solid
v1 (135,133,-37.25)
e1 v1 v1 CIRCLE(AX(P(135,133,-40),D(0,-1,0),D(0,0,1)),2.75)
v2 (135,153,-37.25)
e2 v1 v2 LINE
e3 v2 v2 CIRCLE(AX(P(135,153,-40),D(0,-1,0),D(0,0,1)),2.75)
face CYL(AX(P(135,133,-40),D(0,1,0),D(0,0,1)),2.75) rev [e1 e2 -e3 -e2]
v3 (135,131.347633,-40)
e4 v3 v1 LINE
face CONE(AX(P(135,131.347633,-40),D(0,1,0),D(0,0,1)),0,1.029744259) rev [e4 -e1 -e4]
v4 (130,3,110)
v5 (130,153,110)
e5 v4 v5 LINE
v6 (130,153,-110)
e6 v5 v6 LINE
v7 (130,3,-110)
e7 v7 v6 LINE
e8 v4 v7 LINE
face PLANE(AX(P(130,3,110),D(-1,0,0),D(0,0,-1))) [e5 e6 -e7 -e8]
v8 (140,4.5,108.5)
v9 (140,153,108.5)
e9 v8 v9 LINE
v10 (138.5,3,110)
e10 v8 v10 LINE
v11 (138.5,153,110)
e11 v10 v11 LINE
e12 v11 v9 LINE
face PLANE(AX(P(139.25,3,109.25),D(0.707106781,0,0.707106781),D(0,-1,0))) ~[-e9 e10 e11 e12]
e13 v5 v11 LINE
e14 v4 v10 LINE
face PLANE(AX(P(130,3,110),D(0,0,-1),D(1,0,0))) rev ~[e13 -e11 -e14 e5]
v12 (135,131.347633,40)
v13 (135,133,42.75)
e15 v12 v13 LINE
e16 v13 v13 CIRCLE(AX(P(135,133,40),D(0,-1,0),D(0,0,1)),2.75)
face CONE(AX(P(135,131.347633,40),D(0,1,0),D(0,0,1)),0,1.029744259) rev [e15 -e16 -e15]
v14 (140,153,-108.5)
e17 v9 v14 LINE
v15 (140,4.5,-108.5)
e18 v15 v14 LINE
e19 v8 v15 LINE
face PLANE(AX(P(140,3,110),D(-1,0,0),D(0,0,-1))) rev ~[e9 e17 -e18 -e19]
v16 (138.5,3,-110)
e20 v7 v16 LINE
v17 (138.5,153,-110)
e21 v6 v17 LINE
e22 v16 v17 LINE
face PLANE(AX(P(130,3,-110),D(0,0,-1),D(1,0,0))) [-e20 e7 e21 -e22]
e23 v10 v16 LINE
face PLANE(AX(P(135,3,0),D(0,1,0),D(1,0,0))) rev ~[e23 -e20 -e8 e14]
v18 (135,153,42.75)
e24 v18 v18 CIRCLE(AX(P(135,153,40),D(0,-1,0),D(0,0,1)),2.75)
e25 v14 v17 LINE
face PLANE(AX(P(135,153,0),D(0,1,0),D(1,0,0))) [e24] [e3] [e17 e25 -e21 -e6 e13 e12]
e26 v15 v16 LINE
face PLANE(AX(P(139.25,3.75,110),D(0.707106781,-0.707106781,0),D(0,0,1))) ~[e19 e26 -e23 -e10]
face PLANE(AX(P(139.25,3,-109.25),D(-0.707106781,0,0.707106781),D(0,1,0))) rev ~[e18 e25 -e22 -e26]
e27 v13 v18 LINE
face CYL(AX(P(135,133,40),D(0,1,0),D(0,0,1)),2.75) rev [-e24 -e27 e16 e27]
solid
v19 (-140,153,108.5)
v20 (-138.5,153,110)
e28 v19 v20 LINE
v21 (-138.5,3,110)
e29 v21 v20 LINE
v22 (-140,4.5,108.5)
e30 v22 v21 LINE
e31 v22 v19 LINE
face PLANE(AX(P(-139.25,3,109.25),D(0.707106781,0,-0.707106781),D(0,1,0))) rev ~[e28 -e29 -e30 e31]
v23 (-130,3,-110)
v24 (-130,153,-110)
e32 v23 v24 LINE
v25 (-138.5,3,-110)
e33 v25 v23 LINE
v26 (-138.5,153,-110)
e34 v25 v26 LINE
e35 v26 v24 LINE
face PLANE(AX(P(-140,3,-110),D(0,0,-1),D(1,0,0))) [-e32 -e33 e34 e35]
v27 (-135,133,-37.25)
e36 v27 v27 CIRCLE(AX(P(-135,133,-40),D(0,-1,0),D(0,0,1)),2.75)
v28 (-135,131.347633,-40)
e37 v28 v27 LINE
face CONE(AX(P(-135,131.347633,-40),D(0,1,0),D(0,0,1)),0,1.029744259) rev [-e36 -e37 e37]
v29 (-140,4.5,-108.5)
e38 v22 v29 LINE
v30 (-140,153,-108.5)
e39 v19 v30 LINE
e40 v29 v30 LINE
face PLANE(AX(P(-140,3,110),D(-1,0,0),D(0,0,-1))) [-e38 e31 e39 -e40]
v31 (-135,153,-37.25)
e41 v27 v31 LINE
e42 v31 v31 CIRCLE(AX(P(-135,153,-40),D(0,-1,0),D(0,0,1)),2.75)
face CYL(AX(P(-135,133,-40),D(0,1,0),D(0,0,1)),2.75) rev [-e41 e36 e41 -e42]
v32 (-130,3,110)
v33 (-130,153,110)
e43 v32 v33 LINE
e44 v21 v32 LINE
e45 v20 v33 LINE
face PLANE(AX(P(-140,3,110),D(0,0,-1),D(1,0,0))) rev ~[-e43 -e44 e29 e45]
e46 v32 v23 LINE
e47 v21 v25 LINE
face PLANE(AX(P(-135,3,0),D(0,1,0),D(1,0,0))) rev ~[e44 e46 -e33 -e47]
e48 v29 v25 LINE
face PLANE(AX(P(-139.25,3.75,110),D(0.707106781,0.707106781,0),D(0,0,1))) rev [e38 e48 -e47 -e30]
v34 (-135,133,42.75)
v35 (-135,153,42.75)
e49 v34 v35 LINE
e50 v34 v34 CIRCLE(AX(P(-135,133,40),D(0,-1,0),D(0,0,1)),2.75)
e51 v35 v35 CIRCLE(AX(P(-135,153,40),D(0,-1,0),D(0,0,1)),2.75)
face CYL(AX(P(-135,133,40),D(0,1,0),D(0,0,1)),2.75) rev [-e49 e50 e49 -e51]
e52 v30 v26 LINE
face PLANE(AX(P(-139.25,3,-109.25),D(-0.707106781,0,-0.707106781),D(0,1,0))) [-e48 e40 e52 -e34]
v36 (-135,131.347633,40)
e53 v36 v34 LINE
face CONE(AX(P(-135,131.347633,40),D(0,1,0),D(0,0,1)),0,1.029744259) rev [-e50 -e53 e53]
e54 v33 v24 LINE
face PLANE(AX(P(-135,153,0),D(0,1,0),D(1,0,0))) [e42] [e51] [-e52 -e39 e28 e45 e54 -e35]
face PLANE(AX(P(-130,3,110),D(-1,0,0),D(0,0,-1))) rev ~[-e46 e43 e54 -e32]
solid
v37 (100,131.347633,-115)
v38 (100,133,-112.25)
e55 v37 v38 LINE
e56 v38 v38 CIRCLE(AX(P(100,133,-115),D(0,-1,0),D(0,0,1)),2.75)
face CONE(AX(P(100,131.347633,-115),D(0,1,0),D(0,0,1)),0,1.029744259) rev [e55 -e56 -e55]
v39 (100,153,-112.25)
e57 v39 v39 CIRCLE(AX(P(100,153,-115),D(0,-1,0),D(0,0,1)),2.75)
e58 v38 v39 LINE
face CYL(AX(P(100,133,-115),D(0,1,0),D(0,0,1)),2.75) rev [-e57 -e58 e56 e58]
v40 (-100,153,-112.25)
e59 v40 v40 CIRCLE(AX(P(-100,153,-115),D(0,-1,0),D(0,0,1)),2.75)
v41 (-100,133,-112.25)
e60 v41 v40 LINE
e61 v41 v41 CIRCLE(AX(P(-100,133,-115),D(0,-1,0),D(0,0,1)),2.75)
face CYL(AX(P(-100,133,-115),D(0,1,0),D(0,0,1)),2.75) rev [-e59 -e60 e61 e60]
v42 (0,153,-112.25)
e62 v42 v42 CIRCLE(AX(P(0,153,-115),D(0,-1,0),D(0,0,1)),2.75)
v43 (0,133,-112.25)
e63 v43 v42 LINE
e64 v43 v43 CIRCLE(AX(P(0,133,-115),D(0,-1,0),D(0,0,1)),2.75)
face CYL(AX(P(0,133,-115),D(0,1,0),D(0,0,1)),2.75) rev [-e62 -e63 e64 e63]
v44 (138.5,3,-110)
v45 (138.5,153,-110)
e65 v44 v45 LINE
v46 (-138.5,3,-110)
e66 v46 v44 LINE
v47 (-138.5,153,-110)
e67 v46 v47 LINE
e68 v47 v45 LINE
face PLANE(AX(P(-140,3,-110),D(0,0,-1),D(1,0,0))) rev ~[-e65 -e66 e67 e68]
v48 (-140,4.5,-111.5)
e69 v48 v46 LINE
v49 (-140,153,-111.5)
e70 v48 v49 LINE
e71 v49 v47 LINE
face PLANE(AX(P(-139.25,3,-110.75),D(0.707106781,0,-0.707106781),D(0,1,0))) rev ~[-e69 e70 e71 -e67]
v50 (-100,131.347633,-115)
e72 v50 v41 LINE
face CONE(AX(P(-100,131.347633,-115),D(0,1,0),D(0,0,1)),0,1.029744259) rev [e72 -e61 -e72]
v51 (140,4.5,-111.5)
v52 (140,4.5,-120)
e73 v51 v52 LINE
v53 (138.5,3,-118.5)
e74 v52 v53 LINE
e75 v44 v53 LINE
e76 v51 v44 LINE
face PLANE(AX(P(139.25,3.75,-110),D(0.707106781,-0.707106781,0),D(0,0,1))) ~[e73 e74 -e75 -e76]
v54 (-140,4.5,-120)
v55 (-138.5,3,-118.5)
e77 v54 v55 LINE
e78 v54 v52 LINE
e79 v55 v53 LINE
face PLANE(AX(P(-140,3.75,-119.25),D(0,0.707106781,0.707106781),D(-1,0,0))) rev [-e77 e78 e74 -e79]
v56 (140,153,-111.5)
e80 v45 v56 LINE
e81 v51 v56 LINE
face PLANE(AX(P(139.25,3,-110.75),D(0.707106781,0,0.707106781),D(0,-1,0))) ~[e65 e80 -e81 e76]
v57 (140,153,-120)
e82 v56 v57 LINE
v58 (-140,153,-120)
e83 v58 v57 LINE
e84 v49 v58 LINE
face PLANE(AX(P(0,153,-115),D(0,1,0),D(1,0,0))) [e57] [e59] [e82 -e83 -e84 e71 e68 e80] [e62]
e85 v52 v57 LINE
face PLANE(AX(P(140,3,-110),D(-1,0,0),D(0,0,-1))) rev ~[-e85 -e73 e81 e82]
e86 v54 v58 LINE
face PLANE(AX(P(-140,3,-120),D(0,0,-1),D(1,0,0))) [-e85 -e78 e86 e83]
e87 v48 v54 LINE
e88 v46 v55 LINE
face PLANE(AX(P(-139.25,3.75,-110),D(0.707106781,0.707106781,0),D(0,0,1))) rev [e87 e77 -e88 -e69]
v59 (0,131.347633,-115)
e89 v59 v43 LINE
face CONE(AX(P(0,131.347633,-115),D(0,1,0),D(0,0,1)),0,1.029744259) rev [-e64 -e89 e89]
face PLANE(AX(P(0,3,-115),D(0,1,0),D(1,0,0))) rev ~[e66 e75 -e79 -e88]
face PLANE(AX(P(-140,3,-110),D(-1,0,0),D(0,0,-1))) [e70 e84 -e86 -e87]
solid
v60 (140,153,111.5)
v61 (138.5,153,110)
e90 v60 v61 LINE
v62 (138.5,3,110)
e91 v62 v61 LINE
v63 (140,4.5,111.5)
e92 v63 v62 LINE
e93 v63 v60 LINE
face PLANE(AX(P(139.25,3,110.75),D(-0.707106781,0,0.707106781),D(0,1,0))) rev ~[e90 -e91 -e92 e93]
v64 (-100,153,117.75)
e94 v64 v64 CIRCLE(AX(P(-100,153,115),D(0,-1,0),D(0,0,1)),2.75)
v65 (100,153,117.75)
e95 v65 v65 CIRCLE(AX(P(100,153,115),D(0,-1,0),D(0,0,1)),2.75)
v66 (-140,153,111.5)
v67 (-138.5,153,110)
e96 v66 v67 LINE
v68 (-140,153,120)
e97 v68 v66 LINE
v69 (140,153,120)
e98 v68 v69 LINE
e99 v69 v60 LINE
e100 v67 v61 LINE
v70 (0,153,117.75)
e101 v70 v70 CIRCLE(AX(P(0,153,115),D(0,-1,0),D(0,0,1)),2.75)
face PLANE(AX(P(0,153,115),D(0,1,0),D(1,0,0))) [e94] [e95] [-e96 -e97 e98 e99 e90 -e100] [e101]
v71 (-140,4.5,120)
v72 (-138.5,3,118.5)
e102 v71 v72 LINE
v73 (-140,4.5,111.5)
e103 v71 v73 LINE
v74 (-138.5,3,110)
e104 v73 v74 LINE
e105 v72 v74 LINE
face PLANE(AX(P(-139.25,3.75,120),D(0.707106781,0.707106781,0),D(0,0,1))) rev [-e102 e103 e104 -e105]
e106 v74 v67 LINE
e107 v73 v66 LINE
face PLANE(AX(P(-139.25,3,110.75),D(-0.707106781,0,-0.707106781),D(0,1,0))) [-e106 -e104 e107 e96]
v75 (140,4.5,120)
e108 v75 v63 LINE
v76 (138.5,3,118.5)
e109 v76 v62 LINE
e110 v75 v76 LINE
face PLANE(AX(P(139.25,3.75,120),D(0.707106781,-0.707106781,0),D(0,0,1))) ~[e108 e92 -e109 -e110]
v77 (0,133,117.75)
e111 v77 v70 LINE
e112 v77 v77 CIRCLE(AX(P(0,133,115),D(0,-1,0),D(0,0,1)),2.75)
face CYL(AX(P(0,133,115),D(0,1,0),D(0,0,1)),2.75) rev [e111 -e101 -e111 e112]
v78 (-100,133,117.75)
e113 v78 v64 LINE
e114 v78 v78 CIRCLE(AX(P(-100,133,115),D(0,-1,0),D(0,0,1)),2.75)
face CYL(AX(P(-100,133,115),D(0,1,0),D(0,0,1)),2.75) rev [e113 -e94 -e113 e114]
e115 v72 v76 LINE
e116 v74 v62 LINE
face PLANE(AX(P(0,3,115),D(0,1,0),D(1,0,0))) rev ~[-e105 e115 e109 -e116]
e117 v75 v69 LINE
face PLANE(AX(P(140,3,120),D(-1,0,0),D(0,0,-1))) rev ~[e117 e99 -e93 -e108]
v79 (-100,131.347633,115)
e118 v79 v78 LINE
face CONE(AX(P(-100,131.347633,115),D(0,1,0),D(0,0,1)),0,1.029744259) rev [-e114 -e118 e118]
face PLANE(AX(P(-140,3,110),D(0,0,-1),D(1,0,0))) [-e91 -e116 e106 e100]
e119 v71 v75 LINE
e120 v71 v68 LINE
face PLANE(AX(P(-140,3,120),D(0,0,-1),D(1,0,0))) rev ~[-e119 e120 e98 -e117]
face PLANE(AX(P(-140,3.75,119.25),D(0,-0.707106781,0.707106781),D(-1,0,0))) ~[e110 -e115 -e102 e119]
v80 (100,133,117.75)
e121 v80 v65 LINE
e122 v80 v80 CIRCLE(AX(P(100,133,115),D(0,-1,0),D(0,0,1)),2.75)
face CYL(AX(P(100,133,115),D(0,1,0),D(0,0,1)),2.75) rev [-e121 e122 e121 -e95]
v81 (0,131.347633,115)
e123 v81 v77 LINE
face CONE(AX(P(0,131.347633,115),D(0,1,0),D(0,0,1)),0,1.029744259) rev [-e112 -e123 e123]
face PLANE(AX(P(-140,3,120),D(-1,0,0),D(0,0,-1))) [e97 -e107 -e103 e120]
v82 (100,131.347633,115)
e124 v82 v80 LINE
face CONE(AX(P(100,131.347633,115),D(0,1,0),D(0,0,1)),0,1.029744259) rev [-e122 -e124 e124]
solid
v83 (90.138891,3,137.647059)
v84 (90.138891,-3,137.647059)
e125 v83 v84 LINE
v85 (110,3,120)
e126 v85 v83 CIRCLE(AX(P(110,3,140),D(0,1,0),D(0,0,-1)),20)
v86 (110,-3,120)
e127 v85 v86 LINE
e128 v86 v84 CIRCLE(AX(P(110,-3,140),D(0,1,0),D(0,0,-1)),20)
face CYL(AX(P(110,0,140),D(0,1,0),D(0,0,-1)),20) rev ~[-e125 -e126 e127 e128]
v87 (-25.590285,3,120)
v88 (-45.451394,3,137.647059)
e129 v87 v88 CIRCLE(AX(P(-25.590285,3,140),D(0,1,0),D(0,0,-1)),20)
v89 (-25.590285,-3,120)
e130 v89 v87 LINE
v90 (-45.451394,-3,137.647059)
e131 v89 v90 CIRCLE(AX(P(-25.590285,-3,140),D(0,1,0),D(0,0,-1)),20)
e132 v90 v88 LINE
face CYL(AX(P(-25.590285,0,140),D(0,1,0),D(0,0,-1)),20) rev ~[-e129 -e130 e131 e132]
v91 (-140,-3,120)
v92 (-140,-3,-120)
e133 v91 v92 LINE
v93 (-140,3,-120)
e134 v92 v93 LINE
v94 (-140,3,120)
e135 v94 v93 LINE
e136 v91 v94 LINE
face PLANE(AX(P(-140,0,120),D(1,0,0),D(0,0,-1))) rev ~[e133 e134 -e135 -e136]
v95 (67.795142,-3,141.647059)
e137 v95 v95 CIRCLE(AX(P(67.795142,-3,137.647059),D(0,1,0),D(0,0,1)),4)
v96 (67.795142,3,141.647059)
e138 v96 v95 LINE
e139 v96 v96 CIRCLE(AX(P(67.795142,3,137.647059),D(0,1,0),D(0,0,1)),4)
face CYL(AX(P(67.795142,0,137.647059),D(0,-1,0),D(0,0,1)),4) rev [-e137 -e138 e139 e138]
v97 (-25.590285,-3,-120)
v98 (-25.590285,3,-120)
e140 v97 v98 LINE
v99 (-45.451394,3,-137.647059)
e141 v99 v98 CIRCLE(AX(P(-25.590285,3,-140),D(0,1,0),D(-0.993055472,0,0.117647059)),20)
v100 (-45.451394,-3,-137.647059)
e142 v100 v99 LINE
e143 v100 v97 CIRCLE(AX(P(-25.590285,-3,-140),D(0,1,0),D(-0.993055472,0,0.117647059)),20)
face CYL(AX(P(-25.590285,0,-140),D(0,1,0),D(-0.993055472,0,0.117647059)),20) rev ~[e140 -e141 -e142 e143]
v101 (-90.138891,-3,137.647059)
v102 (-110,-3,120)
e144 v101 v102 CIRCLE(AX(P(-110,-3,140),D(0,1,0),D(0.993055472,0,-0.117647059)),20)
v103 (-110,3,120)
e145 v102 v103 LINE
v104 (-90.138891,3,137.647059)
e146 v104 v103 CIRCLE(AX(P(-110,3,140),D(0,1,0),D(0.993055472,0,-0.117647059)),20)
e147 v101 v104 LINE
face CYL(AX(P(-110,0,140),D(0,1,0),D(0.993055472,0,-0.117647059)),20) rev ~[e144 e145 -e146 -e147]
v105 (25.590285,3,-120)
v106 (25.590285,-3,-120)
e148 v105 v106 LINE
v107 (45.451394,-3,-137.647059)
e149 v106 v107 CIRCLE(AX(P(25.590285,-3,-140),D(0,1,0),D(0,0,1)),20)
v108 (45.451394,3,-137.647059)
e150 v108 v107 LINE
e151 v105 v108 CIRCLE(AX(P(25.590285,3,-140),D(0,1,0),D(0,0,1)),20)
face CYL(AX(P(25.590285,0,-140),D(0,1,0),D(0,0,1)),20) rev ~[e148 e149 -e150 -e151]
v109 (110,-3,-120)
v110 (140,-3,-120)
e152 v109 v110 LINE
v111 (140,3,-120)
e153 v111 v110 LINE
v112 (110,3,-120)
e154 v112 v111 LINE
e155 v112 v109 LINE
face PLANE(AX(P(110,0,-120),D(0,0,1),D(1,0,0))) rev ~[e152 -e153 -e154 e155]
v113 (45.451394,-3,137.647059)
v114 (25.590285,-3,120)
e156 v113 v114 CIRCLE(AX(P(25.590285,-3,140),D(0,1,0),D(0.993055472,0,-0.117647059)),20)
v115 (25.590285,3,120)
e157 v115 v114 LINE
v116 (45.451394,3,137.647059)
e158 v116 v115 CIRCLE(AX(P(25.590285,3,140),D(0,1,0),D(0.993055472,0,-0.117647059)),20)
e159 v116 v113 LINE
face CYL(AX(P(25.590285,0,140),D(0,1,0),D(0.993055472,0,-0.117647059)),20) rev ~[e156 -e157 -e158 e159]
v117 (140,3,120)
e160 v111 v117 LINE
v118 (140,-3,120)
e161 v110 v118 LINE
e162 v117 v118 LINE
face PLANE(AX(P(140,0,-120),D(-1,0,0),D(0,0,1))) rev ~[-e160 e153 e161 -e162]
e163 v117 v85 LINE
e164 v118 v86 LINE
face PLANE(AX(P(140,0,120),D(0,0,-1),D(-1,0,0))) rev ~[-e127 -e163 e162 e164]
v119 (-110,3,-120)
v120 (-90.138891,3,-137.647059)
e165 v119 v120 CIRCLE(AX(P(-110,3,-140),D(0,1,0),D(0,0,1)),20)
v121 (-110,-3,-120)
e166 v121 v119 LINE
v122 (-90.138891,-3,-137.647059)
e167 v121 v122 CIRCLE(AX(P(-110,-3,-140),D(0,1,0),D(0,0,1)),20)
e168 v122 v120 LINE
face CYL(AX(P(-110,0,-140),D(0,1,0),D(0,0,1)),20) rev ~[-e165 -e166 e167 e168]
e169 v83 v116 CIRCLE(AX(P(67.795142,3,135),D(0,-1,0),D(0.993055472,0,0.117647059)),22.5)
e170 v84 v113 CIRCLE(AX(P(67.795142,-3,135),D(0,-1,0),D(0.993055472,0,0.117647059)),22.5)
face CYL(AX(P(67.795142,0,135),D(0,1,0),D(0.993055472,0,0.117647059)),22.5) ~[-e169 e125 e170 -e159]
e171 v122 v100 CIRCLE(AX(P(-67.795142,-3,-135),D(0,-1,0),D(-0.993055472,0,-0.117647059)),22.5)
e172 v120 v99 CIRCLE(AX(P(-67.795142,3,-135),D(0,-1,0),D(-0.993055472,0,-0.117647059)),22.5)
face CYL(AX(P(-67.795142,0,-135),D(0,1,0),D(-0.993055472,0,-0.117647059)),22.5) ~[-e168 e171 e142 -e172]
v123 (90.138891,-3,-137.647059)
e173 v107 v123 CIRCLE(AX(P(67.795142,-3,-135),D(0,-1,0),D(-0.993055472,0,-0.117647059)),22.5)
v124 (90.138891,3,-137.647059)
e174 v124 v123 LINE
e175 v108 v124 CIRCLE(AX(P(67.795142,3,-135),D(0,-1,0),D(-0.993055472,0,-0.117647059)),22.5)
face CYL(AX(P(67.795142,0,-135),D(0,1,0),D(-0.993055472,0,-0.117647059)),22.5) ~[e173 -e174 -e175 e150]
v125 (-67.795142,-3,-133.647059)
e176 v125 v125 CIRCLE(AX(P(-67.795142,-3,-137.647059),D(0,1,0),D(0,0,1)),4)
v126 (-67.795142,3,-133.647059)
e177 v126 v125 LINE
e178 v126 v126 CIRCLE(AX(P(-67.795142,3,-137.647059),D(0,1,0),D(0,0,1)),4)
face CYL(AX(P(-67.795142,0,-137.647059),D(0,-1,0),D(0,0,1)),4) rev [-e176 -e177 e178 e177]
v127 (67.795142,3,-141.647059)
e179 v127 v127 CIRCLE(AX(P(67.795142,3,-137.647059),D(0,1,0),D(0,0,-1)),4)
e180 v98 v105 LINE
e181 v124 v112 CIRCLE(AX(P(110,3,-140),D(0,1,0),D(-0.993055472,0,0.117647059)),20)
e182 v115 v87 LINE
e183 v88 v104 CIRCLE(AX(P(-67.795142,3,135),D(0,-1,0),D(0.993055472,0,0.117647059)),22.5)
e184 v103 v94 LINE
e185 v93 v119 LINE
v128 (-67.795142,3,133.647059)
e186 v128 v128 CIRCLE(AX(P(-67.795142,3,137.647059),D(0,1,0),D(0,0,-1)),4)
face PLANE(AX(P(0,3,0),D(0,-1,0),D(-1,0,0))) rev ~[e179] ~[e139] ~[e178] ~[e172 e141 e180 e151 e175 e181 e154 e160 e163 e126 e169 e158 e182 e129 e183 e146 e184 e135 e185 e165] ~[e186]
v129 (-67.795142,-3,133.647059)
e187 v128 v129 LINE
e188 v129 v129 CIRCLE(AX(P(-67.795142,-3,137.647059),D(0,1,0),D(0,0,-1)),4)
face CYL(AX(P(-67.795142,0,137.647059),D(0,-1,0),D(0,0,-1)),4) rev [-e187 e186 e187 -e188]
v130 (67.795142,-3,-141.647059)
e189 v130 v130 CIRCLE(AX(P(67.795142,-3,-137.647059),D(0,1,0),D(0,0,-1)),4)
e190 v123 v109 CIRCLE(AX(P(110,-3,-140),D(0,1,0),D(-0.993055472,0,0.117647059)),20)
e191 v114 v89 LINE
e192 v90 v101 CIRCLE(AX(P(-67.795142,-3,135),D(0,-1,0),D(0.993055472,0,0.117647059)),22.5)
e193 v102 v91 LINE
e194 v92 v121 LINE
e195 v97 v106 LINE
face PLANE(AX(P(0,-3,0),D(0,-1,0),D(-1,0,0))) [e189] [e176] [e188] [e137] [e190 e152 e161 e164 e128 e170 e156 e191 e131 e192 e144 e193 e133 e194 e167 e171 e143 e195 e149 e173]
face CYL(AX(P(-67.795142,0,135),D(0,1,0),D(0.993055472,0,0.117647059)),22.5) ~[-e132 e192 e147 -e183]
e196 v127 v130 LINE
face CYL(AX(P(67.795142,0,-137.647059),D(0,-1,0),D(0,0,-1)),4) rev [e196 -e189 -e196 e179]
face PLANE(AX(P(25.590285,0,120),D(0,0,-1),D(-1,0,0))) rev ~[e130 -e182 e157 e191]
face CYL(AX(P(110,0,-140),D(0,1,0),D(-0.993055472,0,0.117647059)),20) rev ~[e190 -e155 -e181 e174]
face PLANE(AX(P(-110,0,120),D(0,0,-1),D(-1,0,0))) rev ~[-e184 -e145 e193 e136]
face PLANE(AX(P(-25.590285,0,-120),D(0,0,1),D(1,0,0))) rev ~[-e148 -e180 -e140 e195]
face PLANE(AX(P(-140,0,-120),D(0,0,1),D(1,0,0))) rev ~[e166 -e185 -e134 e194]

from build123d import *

# Parameters (mm, degrees)
CROQUIS1_R                             = 4
SALIENTE_EXTRUIR1_DEPTH                = 3
CROQUIS2_W                             = 280
CROQUIS2_H                             = 10
SALIENTE_EXTRUIR2_DEPTH                = 150
SALIENTE_EXTRUIR2_2_DEPTH              = 150
CROQUIS3_W                             = 10
CROQUIS3_H                             = 220
SALIENTE_EXTRUIR3_DEPTH                = 150
SALIENTE_EXTRUIR3_2_DEPTH              = 150
CHAFL_N1_SIZE                          = 1.5
CHAFL_N2_SIZE                          = 1.5
CHAFL_N3_SIZE                          = 1.5
CHAFL_N4_SIZE                          = 1.5
TALADRO_DE_MARGEN_PARA_M51_AT_2_COUNT  = 2
TALADRO_DE_MARGEN_PARA_M51_AT_2_PITCH  = 80
TALADRO_DE_MARGEN_PARA_M51_AT_3_COUNT  = 2
TALADRO_DE_MARGEN_PARA_M51_AT_3_PITCH  = 82.764726786
TALADRO_DE_MARGEN_PARA_M51_AT_4_COUNT  = 2
TALADRO_DE_MARGEN_PARA_M51_AT_4_PITCH  = 246.677927671
TALADRO_DE_MARGEN_PARA_M51_AT_5_COUNT  = 2
TALADRO_DE_MARGEN_PARA_M51_AT_5_PITCH  = 270
TALADRO_DE_MARGEN_PARA_M51_AT_6_COUNT  = 2
TALADRO_DE_MARGEN_PARA_M51_AT_6_PITCH  = 281.602556807
TALADRO_DE_MARGEN_PARA_M51_AT_7_COUNT  = 2
TALADRO_DE_MARGEN_PARA_M51_AT_7_PITCH  = 281.513765205
TALADRO_DE_MARGEN_PARA_M51_AT_8_COUNT  = 2
TALADRO_DE_MARGEN_PARA_M51_AT_8_PITCH  = 158.902485821
TALADRO_DE_MARGEN_PARA_M51_AT_9_COUNT  = 2
TALADRO_DE_MARGEN_PARA_M51_AT_9_PITCH  = 154.434452115
TALADRO_DE_MARGEN_PARA_M51_AT_10_COUNT = 2
TALADRO_DE_MARGEN_PARA_M51_AT_10_PITCH = 205.548047911


with BuildPart() as part:
    # Croquis1 → Saliente-Extruir1 (new, symmetric)
    with BuildSketch(Plane(origin=(0, 0, 0), x_dir=(1, 0, 0), z_dir=(0, 1, 0))):
        with BuildLine():
            Line((-25.590284919, 120), (25.590284919, 120))
            ThreePointArc((25.590284919, 120), (38.874508202, 125.049099968), (45.45139435, 137.647058824))
            ThreePointArc((45.45139435, 137.647058824), (67.79514246, 157.5), (90.138890569, 137.647058824))
            ThreePointArc((90.138890569, 137.647058824), (96.715776717, 125.049099968), (110, 120))
            Line((110, 120), (140, 120))
            Line((140, 120), (140, -120))
            Line((140, -120), (110, -120))
            ThreePointArc((110, -120), (96.715776717, -125.049099968), (90.138890569, -137.647058824))
            ThreePointArc((90.138890569, -137.647058824), (67.79514246, -157.5), (45.45139435, -137.647058824))
            ThreePointArc((45.45139435, -137.647058824), (38.874508202, -125.049099968), (25.590284919, -120))
            Line((25.590284919, -120), (-25.590284919, -120))
            ThreePointArc((-25.590284919, -120), (-38.874508202, -125.049099968), (-45.45139435, -137.647058824))
            ThreePointArc((-45.45139435, -137.647058824), (-67.79514246, -157.5), (-90.138890569, -137.647058824))
            ThreePointArc((-90.138890569, -137.647058824), (-96.715776717, -125.049099968), (-110, -120))
            Line((-110, -120), (-140, -120))
            Line((-140, -120), (-140, 120))
            Line((-140, 120), (-110, 120))
            ThreePointArc((-110, 120), (-96.715776717, 125.049099968), (-90.138890569, 137.647058824))
            ThreePointArc((-90.138890569, 137.647058824), (-67.79514246, 157.5), (-45.45139435, 137.647058824))
            ThreePointArc((-45.45139435, 137.647058824), (-38.874508202, 125.049099968), (-25.590284919, 120))
        make_face()
        with Locations(Location((-67.79514246, 137.647058824, 0), (0, 0, 270))):
            Circle(CROQUIS1_R, mode=Mode.SUBTRACT)
        with Locations(Location((67.79514246, 137.647058824, 0), (0, 0, 90))):
            Circle(CROQUIS1_R, mode=Mode.SUBTRACT)
        with Locations(Location((67.79514246, -137.647058824, 0), (0, 0, 270))):
            Circle(CROQUIS1_R, mode=Mode.SUBTRACT)
        with Locations(Location((-67.79514246, -137.647058824, 0), (0, 0, 90))):
            Circle(CROQUIS1_R, mode=Mode.SUBTRACT)
    extrude(amount=SALIENTE_EXTRUIR1_DEPTH, both=True)


with BuildPart() as body_2:
    # Croquis2 → Saliente-Extruir2 (new body)
    with BuildSketch(Plane(origin=(0, 3, 0), x_dir=(1, 0, 0), z_dir=(0, 1, 0))):
        with Locations((0, 115)):
            Rectangle(CROQUIS2_W, CROQUIS2_H)
    extrude(amount=SALIENTE_EXTRUIR2_DEPTH)

    # Chaflán2
    chafl_n2_edges = [body_2.edges().sort_by_distance(p)[0] for p in [
        (0, 3, -120),
        (140, 3, -115),
        (-140, 3, -115),
        (140, 78, -110),
        (-140, 78, -110),
    ]]
    chamfer(chafl_n2_edges, length=CHAFL_N2_SIZE)


with BuildPart() as body_3:
    # Croquis2 → Saliente-Extruir2 2 (new body)
    with BuildSketch(Plane(origin=(0, 3, 0), x_dir=(1, 0, 0), z_dir=(0, 1, 0))):
        with Locations((0, -115)):
            Rectangle(CROQUIS2_W, CROQUIS2_H)
    extrude(amount=SALIENTE_EXTRUIR2_2_DEPTH)

    # Chaflán3
    chafl_n3_edges = [body_3.edges().sort_by_distance(p)[0] for p in [
        (140, 3, 115),
        (0, 3, 120),
        (-140, 3, 115),
        (-140, 78, 110),
        (140, 78, 110),
    ]]
    chamfer(chafl_n3_edges, length=CHAFL_N3_SIZE)


with BuildPart() as body_4:
    # Croquis3 → Saliente-Extruir3 (new body)
    with BuildSketch(Plane(origin=(0, 3, 0), x_dir=(1, 0, 0), z_dir=(0, 1, 0))):
        with Locations((-135, 0)):
            Rectangle(CROQUIS3_W, CROQUIS3_H)
    extrude(amount=SALIENTE_EXTRUIR3_DEPTH)

    # Chaflán1
    chafl_n1_edges = [body_4.edges().sort_by_distance(p)[0] for p in [
        (-140, 3, 0),
        (-140, 78, -110),
        (-140, 78, 110),
    ]]
    chamfer(chafl_n1_edges, length=CHAFL_N1_SIZE)

    # Croquis5 → Taladro de margen para M51 (revolve, cut)
    with BuildSketch(Plane(origin=(-135, 153, -40), x_dir=(0, 0, 1), z_dir=(1, 0, 0))):
        Polygon((0, 0), (0, 21.652366702), (2.75, 20), (2.75, 0), align=None)
    taladro_de_margen_para_m51 = revolve(axis=Axis((-135, 159.35, -40), (0, -1, 0)), mode=Mode.SUBTRACT)

    # Taladro de margen para M51 at 2: Taladro de margen para M51 ×2
    with Locations(*[(0, 0, i * TALADRO_DE_MARGEN_PARA_M51_AT_2_PITCH) for i in range(1, TALADRO_DE_MARGEN_PARA_M51_AT_2_COUNT)]):
        add(taladro_de_margen_para_m51, mode=Mode.SUBTRACT)


with BuildPart() as body_5:
    # Croquis3 → Saliente-Extruir3 2 (new body)
    with BuildSketch(Plane(origin=(0, 3, 0), x_dir=(1, 0, 0), z_dir=(0, 1, 0))):
        with Locations((135, 0)):
            Rectangle(CROQUIS3_W, CROQUIS3_H)
    extrude(amount=SALIENTE_EXTRUIR3_2_DEPTH)

    # Chaflán4
    chafl_n4_edges = [body_5.edges().sort_by_distance(p)[0] for p in [
        (140, 3, 0),
        (140, 78, 110),
        (140, 78, -110),
    ]]
    chamfer(chafl_n4_edges, length=CHAFL_N4_SIZE)

    # Taladro de margen para M51 at 5: Taladro de margen para M51 ×2
    with Locations(*[(i * TALADRO_DE_MARGEN_PARA_M51_AT_5_PITCH, 0, 0) for i in range(1, TALADRO_DE_MARGEN_PARA_M51_AT_5_COUNT)]):
        add(taladro_de_margen_para_m51, mode=Mode.SUBTRACT)

    # Taladro de margen para M51 at 6: Taladro de margen para M51 ×2
    with Locations(*[Vector(0.9587981127083872, 0, 0.284088329691374) * (i * TALADRO_DE_MARGEN_PARA_M51_AT_6_PITCH) for i in range(1, TALADRO_DE_MARGEN_PARA_M51_AT_6_COUNT)]):
        add(taladro_de_margen_para_m51, mode=Mode.SUBTRACT)


with BuildPart() as body_2_1:
    add(body_2.part)

    # Taladro de margen para M51 at 3: Taladro de margen para M51 ×2
    with Locations(*[Vector(0.42288546533112364, 0, -0.9061831399952656) * (i * TALADRO_DE_MARGEN_PARA_M51_AT_3_PITCH) for i in range(1, TALADRO_DE_MARGEN_PARA_M51_AT_3_COUNT)]):
        add(taladro_de_margen_para_m51, mode=Mode.SUBTRACT)

    # Taladro de margen para M51 at 4: Taladro de margen para M51 ×2
    with Locations(*[Vector(0.9526592112186827, 0, -0.3040401737931967) * (i * TALADRO_DE_MARGEN_PARA_M51_AT_4_PITCH) for i in range(1, TALADRO_DE_MARGEN_PARA_M51_AT_4_COUNT)]):
        add(taladro_de_margen_para_m51, mode=Mode.SUBTRACT)

    # Taladro de margen para M51 at 9: Taladro de margen para M51 ×2
    with Locations(*[Vector(0.8741572761215378, 0, -0.4856429311786321) * (i * TALADRO_DE_MARGEN_PARA_M51_AT_9_PITCH) for i in range(1, TALADRO_DE_MARGEN_PARA_M51_AT_9_COUNT)]):
        add(taladro_de_margen_para_m51, mode=Mode.SUBTRACT)


with BuildPart() as body_3_1:
    add(body_3.part)

    # Taladro de margen para M51 at 7: Taladro de margen para M51 ×2
    with Locations(*[Vector(0.8347726791573309, 0, 0.5505947458271755) * (i * TALADRO_DE_MARGEN_PARA_M51_AT_7_PITCH) for i in range(1, TALADRO_DE_MARGEN_PARA_M51_AT_7_COUNT)]):
        add(taladro_de_margen_para_m51, mode=Mode.SUBTRACT)

    # Taladro de margen para M51 at 8: Taladro de margen para M51 ×2
    with Locations(*[Vector(0.22026087143464346, 0, 0.9754410020677066) * (i * TALADRO_DE_MARGEN_PARA_M51_AT_8_PITCH) for i in range(1, TALADRO_DE_MARGEN_PARA_M51_AT_8_COUNT)]):
        add(taladro_de_margen_para_m51, mode=Mode.SUBTRACT)

    # Taladro de margen para M51 at 10: Taladro de margen para M51 ×2
    with Locations(*[Vector(0.6567807448042018, 0, 0.754081595886306) * (i * TALADRO_DE_MARGEN_PARA_M51_AT_10_PITCH) for i in range(1, TALADRO_DE_MARGEN_PARA_M51_AT_10_COUNT)]):
        add(taladro_de_margen_para_m51, mode=Mode.SUBTRACT)


solid = Compound([part.part, body_4.part, body_5.part, body_2_1.part, body_3_1.part])
